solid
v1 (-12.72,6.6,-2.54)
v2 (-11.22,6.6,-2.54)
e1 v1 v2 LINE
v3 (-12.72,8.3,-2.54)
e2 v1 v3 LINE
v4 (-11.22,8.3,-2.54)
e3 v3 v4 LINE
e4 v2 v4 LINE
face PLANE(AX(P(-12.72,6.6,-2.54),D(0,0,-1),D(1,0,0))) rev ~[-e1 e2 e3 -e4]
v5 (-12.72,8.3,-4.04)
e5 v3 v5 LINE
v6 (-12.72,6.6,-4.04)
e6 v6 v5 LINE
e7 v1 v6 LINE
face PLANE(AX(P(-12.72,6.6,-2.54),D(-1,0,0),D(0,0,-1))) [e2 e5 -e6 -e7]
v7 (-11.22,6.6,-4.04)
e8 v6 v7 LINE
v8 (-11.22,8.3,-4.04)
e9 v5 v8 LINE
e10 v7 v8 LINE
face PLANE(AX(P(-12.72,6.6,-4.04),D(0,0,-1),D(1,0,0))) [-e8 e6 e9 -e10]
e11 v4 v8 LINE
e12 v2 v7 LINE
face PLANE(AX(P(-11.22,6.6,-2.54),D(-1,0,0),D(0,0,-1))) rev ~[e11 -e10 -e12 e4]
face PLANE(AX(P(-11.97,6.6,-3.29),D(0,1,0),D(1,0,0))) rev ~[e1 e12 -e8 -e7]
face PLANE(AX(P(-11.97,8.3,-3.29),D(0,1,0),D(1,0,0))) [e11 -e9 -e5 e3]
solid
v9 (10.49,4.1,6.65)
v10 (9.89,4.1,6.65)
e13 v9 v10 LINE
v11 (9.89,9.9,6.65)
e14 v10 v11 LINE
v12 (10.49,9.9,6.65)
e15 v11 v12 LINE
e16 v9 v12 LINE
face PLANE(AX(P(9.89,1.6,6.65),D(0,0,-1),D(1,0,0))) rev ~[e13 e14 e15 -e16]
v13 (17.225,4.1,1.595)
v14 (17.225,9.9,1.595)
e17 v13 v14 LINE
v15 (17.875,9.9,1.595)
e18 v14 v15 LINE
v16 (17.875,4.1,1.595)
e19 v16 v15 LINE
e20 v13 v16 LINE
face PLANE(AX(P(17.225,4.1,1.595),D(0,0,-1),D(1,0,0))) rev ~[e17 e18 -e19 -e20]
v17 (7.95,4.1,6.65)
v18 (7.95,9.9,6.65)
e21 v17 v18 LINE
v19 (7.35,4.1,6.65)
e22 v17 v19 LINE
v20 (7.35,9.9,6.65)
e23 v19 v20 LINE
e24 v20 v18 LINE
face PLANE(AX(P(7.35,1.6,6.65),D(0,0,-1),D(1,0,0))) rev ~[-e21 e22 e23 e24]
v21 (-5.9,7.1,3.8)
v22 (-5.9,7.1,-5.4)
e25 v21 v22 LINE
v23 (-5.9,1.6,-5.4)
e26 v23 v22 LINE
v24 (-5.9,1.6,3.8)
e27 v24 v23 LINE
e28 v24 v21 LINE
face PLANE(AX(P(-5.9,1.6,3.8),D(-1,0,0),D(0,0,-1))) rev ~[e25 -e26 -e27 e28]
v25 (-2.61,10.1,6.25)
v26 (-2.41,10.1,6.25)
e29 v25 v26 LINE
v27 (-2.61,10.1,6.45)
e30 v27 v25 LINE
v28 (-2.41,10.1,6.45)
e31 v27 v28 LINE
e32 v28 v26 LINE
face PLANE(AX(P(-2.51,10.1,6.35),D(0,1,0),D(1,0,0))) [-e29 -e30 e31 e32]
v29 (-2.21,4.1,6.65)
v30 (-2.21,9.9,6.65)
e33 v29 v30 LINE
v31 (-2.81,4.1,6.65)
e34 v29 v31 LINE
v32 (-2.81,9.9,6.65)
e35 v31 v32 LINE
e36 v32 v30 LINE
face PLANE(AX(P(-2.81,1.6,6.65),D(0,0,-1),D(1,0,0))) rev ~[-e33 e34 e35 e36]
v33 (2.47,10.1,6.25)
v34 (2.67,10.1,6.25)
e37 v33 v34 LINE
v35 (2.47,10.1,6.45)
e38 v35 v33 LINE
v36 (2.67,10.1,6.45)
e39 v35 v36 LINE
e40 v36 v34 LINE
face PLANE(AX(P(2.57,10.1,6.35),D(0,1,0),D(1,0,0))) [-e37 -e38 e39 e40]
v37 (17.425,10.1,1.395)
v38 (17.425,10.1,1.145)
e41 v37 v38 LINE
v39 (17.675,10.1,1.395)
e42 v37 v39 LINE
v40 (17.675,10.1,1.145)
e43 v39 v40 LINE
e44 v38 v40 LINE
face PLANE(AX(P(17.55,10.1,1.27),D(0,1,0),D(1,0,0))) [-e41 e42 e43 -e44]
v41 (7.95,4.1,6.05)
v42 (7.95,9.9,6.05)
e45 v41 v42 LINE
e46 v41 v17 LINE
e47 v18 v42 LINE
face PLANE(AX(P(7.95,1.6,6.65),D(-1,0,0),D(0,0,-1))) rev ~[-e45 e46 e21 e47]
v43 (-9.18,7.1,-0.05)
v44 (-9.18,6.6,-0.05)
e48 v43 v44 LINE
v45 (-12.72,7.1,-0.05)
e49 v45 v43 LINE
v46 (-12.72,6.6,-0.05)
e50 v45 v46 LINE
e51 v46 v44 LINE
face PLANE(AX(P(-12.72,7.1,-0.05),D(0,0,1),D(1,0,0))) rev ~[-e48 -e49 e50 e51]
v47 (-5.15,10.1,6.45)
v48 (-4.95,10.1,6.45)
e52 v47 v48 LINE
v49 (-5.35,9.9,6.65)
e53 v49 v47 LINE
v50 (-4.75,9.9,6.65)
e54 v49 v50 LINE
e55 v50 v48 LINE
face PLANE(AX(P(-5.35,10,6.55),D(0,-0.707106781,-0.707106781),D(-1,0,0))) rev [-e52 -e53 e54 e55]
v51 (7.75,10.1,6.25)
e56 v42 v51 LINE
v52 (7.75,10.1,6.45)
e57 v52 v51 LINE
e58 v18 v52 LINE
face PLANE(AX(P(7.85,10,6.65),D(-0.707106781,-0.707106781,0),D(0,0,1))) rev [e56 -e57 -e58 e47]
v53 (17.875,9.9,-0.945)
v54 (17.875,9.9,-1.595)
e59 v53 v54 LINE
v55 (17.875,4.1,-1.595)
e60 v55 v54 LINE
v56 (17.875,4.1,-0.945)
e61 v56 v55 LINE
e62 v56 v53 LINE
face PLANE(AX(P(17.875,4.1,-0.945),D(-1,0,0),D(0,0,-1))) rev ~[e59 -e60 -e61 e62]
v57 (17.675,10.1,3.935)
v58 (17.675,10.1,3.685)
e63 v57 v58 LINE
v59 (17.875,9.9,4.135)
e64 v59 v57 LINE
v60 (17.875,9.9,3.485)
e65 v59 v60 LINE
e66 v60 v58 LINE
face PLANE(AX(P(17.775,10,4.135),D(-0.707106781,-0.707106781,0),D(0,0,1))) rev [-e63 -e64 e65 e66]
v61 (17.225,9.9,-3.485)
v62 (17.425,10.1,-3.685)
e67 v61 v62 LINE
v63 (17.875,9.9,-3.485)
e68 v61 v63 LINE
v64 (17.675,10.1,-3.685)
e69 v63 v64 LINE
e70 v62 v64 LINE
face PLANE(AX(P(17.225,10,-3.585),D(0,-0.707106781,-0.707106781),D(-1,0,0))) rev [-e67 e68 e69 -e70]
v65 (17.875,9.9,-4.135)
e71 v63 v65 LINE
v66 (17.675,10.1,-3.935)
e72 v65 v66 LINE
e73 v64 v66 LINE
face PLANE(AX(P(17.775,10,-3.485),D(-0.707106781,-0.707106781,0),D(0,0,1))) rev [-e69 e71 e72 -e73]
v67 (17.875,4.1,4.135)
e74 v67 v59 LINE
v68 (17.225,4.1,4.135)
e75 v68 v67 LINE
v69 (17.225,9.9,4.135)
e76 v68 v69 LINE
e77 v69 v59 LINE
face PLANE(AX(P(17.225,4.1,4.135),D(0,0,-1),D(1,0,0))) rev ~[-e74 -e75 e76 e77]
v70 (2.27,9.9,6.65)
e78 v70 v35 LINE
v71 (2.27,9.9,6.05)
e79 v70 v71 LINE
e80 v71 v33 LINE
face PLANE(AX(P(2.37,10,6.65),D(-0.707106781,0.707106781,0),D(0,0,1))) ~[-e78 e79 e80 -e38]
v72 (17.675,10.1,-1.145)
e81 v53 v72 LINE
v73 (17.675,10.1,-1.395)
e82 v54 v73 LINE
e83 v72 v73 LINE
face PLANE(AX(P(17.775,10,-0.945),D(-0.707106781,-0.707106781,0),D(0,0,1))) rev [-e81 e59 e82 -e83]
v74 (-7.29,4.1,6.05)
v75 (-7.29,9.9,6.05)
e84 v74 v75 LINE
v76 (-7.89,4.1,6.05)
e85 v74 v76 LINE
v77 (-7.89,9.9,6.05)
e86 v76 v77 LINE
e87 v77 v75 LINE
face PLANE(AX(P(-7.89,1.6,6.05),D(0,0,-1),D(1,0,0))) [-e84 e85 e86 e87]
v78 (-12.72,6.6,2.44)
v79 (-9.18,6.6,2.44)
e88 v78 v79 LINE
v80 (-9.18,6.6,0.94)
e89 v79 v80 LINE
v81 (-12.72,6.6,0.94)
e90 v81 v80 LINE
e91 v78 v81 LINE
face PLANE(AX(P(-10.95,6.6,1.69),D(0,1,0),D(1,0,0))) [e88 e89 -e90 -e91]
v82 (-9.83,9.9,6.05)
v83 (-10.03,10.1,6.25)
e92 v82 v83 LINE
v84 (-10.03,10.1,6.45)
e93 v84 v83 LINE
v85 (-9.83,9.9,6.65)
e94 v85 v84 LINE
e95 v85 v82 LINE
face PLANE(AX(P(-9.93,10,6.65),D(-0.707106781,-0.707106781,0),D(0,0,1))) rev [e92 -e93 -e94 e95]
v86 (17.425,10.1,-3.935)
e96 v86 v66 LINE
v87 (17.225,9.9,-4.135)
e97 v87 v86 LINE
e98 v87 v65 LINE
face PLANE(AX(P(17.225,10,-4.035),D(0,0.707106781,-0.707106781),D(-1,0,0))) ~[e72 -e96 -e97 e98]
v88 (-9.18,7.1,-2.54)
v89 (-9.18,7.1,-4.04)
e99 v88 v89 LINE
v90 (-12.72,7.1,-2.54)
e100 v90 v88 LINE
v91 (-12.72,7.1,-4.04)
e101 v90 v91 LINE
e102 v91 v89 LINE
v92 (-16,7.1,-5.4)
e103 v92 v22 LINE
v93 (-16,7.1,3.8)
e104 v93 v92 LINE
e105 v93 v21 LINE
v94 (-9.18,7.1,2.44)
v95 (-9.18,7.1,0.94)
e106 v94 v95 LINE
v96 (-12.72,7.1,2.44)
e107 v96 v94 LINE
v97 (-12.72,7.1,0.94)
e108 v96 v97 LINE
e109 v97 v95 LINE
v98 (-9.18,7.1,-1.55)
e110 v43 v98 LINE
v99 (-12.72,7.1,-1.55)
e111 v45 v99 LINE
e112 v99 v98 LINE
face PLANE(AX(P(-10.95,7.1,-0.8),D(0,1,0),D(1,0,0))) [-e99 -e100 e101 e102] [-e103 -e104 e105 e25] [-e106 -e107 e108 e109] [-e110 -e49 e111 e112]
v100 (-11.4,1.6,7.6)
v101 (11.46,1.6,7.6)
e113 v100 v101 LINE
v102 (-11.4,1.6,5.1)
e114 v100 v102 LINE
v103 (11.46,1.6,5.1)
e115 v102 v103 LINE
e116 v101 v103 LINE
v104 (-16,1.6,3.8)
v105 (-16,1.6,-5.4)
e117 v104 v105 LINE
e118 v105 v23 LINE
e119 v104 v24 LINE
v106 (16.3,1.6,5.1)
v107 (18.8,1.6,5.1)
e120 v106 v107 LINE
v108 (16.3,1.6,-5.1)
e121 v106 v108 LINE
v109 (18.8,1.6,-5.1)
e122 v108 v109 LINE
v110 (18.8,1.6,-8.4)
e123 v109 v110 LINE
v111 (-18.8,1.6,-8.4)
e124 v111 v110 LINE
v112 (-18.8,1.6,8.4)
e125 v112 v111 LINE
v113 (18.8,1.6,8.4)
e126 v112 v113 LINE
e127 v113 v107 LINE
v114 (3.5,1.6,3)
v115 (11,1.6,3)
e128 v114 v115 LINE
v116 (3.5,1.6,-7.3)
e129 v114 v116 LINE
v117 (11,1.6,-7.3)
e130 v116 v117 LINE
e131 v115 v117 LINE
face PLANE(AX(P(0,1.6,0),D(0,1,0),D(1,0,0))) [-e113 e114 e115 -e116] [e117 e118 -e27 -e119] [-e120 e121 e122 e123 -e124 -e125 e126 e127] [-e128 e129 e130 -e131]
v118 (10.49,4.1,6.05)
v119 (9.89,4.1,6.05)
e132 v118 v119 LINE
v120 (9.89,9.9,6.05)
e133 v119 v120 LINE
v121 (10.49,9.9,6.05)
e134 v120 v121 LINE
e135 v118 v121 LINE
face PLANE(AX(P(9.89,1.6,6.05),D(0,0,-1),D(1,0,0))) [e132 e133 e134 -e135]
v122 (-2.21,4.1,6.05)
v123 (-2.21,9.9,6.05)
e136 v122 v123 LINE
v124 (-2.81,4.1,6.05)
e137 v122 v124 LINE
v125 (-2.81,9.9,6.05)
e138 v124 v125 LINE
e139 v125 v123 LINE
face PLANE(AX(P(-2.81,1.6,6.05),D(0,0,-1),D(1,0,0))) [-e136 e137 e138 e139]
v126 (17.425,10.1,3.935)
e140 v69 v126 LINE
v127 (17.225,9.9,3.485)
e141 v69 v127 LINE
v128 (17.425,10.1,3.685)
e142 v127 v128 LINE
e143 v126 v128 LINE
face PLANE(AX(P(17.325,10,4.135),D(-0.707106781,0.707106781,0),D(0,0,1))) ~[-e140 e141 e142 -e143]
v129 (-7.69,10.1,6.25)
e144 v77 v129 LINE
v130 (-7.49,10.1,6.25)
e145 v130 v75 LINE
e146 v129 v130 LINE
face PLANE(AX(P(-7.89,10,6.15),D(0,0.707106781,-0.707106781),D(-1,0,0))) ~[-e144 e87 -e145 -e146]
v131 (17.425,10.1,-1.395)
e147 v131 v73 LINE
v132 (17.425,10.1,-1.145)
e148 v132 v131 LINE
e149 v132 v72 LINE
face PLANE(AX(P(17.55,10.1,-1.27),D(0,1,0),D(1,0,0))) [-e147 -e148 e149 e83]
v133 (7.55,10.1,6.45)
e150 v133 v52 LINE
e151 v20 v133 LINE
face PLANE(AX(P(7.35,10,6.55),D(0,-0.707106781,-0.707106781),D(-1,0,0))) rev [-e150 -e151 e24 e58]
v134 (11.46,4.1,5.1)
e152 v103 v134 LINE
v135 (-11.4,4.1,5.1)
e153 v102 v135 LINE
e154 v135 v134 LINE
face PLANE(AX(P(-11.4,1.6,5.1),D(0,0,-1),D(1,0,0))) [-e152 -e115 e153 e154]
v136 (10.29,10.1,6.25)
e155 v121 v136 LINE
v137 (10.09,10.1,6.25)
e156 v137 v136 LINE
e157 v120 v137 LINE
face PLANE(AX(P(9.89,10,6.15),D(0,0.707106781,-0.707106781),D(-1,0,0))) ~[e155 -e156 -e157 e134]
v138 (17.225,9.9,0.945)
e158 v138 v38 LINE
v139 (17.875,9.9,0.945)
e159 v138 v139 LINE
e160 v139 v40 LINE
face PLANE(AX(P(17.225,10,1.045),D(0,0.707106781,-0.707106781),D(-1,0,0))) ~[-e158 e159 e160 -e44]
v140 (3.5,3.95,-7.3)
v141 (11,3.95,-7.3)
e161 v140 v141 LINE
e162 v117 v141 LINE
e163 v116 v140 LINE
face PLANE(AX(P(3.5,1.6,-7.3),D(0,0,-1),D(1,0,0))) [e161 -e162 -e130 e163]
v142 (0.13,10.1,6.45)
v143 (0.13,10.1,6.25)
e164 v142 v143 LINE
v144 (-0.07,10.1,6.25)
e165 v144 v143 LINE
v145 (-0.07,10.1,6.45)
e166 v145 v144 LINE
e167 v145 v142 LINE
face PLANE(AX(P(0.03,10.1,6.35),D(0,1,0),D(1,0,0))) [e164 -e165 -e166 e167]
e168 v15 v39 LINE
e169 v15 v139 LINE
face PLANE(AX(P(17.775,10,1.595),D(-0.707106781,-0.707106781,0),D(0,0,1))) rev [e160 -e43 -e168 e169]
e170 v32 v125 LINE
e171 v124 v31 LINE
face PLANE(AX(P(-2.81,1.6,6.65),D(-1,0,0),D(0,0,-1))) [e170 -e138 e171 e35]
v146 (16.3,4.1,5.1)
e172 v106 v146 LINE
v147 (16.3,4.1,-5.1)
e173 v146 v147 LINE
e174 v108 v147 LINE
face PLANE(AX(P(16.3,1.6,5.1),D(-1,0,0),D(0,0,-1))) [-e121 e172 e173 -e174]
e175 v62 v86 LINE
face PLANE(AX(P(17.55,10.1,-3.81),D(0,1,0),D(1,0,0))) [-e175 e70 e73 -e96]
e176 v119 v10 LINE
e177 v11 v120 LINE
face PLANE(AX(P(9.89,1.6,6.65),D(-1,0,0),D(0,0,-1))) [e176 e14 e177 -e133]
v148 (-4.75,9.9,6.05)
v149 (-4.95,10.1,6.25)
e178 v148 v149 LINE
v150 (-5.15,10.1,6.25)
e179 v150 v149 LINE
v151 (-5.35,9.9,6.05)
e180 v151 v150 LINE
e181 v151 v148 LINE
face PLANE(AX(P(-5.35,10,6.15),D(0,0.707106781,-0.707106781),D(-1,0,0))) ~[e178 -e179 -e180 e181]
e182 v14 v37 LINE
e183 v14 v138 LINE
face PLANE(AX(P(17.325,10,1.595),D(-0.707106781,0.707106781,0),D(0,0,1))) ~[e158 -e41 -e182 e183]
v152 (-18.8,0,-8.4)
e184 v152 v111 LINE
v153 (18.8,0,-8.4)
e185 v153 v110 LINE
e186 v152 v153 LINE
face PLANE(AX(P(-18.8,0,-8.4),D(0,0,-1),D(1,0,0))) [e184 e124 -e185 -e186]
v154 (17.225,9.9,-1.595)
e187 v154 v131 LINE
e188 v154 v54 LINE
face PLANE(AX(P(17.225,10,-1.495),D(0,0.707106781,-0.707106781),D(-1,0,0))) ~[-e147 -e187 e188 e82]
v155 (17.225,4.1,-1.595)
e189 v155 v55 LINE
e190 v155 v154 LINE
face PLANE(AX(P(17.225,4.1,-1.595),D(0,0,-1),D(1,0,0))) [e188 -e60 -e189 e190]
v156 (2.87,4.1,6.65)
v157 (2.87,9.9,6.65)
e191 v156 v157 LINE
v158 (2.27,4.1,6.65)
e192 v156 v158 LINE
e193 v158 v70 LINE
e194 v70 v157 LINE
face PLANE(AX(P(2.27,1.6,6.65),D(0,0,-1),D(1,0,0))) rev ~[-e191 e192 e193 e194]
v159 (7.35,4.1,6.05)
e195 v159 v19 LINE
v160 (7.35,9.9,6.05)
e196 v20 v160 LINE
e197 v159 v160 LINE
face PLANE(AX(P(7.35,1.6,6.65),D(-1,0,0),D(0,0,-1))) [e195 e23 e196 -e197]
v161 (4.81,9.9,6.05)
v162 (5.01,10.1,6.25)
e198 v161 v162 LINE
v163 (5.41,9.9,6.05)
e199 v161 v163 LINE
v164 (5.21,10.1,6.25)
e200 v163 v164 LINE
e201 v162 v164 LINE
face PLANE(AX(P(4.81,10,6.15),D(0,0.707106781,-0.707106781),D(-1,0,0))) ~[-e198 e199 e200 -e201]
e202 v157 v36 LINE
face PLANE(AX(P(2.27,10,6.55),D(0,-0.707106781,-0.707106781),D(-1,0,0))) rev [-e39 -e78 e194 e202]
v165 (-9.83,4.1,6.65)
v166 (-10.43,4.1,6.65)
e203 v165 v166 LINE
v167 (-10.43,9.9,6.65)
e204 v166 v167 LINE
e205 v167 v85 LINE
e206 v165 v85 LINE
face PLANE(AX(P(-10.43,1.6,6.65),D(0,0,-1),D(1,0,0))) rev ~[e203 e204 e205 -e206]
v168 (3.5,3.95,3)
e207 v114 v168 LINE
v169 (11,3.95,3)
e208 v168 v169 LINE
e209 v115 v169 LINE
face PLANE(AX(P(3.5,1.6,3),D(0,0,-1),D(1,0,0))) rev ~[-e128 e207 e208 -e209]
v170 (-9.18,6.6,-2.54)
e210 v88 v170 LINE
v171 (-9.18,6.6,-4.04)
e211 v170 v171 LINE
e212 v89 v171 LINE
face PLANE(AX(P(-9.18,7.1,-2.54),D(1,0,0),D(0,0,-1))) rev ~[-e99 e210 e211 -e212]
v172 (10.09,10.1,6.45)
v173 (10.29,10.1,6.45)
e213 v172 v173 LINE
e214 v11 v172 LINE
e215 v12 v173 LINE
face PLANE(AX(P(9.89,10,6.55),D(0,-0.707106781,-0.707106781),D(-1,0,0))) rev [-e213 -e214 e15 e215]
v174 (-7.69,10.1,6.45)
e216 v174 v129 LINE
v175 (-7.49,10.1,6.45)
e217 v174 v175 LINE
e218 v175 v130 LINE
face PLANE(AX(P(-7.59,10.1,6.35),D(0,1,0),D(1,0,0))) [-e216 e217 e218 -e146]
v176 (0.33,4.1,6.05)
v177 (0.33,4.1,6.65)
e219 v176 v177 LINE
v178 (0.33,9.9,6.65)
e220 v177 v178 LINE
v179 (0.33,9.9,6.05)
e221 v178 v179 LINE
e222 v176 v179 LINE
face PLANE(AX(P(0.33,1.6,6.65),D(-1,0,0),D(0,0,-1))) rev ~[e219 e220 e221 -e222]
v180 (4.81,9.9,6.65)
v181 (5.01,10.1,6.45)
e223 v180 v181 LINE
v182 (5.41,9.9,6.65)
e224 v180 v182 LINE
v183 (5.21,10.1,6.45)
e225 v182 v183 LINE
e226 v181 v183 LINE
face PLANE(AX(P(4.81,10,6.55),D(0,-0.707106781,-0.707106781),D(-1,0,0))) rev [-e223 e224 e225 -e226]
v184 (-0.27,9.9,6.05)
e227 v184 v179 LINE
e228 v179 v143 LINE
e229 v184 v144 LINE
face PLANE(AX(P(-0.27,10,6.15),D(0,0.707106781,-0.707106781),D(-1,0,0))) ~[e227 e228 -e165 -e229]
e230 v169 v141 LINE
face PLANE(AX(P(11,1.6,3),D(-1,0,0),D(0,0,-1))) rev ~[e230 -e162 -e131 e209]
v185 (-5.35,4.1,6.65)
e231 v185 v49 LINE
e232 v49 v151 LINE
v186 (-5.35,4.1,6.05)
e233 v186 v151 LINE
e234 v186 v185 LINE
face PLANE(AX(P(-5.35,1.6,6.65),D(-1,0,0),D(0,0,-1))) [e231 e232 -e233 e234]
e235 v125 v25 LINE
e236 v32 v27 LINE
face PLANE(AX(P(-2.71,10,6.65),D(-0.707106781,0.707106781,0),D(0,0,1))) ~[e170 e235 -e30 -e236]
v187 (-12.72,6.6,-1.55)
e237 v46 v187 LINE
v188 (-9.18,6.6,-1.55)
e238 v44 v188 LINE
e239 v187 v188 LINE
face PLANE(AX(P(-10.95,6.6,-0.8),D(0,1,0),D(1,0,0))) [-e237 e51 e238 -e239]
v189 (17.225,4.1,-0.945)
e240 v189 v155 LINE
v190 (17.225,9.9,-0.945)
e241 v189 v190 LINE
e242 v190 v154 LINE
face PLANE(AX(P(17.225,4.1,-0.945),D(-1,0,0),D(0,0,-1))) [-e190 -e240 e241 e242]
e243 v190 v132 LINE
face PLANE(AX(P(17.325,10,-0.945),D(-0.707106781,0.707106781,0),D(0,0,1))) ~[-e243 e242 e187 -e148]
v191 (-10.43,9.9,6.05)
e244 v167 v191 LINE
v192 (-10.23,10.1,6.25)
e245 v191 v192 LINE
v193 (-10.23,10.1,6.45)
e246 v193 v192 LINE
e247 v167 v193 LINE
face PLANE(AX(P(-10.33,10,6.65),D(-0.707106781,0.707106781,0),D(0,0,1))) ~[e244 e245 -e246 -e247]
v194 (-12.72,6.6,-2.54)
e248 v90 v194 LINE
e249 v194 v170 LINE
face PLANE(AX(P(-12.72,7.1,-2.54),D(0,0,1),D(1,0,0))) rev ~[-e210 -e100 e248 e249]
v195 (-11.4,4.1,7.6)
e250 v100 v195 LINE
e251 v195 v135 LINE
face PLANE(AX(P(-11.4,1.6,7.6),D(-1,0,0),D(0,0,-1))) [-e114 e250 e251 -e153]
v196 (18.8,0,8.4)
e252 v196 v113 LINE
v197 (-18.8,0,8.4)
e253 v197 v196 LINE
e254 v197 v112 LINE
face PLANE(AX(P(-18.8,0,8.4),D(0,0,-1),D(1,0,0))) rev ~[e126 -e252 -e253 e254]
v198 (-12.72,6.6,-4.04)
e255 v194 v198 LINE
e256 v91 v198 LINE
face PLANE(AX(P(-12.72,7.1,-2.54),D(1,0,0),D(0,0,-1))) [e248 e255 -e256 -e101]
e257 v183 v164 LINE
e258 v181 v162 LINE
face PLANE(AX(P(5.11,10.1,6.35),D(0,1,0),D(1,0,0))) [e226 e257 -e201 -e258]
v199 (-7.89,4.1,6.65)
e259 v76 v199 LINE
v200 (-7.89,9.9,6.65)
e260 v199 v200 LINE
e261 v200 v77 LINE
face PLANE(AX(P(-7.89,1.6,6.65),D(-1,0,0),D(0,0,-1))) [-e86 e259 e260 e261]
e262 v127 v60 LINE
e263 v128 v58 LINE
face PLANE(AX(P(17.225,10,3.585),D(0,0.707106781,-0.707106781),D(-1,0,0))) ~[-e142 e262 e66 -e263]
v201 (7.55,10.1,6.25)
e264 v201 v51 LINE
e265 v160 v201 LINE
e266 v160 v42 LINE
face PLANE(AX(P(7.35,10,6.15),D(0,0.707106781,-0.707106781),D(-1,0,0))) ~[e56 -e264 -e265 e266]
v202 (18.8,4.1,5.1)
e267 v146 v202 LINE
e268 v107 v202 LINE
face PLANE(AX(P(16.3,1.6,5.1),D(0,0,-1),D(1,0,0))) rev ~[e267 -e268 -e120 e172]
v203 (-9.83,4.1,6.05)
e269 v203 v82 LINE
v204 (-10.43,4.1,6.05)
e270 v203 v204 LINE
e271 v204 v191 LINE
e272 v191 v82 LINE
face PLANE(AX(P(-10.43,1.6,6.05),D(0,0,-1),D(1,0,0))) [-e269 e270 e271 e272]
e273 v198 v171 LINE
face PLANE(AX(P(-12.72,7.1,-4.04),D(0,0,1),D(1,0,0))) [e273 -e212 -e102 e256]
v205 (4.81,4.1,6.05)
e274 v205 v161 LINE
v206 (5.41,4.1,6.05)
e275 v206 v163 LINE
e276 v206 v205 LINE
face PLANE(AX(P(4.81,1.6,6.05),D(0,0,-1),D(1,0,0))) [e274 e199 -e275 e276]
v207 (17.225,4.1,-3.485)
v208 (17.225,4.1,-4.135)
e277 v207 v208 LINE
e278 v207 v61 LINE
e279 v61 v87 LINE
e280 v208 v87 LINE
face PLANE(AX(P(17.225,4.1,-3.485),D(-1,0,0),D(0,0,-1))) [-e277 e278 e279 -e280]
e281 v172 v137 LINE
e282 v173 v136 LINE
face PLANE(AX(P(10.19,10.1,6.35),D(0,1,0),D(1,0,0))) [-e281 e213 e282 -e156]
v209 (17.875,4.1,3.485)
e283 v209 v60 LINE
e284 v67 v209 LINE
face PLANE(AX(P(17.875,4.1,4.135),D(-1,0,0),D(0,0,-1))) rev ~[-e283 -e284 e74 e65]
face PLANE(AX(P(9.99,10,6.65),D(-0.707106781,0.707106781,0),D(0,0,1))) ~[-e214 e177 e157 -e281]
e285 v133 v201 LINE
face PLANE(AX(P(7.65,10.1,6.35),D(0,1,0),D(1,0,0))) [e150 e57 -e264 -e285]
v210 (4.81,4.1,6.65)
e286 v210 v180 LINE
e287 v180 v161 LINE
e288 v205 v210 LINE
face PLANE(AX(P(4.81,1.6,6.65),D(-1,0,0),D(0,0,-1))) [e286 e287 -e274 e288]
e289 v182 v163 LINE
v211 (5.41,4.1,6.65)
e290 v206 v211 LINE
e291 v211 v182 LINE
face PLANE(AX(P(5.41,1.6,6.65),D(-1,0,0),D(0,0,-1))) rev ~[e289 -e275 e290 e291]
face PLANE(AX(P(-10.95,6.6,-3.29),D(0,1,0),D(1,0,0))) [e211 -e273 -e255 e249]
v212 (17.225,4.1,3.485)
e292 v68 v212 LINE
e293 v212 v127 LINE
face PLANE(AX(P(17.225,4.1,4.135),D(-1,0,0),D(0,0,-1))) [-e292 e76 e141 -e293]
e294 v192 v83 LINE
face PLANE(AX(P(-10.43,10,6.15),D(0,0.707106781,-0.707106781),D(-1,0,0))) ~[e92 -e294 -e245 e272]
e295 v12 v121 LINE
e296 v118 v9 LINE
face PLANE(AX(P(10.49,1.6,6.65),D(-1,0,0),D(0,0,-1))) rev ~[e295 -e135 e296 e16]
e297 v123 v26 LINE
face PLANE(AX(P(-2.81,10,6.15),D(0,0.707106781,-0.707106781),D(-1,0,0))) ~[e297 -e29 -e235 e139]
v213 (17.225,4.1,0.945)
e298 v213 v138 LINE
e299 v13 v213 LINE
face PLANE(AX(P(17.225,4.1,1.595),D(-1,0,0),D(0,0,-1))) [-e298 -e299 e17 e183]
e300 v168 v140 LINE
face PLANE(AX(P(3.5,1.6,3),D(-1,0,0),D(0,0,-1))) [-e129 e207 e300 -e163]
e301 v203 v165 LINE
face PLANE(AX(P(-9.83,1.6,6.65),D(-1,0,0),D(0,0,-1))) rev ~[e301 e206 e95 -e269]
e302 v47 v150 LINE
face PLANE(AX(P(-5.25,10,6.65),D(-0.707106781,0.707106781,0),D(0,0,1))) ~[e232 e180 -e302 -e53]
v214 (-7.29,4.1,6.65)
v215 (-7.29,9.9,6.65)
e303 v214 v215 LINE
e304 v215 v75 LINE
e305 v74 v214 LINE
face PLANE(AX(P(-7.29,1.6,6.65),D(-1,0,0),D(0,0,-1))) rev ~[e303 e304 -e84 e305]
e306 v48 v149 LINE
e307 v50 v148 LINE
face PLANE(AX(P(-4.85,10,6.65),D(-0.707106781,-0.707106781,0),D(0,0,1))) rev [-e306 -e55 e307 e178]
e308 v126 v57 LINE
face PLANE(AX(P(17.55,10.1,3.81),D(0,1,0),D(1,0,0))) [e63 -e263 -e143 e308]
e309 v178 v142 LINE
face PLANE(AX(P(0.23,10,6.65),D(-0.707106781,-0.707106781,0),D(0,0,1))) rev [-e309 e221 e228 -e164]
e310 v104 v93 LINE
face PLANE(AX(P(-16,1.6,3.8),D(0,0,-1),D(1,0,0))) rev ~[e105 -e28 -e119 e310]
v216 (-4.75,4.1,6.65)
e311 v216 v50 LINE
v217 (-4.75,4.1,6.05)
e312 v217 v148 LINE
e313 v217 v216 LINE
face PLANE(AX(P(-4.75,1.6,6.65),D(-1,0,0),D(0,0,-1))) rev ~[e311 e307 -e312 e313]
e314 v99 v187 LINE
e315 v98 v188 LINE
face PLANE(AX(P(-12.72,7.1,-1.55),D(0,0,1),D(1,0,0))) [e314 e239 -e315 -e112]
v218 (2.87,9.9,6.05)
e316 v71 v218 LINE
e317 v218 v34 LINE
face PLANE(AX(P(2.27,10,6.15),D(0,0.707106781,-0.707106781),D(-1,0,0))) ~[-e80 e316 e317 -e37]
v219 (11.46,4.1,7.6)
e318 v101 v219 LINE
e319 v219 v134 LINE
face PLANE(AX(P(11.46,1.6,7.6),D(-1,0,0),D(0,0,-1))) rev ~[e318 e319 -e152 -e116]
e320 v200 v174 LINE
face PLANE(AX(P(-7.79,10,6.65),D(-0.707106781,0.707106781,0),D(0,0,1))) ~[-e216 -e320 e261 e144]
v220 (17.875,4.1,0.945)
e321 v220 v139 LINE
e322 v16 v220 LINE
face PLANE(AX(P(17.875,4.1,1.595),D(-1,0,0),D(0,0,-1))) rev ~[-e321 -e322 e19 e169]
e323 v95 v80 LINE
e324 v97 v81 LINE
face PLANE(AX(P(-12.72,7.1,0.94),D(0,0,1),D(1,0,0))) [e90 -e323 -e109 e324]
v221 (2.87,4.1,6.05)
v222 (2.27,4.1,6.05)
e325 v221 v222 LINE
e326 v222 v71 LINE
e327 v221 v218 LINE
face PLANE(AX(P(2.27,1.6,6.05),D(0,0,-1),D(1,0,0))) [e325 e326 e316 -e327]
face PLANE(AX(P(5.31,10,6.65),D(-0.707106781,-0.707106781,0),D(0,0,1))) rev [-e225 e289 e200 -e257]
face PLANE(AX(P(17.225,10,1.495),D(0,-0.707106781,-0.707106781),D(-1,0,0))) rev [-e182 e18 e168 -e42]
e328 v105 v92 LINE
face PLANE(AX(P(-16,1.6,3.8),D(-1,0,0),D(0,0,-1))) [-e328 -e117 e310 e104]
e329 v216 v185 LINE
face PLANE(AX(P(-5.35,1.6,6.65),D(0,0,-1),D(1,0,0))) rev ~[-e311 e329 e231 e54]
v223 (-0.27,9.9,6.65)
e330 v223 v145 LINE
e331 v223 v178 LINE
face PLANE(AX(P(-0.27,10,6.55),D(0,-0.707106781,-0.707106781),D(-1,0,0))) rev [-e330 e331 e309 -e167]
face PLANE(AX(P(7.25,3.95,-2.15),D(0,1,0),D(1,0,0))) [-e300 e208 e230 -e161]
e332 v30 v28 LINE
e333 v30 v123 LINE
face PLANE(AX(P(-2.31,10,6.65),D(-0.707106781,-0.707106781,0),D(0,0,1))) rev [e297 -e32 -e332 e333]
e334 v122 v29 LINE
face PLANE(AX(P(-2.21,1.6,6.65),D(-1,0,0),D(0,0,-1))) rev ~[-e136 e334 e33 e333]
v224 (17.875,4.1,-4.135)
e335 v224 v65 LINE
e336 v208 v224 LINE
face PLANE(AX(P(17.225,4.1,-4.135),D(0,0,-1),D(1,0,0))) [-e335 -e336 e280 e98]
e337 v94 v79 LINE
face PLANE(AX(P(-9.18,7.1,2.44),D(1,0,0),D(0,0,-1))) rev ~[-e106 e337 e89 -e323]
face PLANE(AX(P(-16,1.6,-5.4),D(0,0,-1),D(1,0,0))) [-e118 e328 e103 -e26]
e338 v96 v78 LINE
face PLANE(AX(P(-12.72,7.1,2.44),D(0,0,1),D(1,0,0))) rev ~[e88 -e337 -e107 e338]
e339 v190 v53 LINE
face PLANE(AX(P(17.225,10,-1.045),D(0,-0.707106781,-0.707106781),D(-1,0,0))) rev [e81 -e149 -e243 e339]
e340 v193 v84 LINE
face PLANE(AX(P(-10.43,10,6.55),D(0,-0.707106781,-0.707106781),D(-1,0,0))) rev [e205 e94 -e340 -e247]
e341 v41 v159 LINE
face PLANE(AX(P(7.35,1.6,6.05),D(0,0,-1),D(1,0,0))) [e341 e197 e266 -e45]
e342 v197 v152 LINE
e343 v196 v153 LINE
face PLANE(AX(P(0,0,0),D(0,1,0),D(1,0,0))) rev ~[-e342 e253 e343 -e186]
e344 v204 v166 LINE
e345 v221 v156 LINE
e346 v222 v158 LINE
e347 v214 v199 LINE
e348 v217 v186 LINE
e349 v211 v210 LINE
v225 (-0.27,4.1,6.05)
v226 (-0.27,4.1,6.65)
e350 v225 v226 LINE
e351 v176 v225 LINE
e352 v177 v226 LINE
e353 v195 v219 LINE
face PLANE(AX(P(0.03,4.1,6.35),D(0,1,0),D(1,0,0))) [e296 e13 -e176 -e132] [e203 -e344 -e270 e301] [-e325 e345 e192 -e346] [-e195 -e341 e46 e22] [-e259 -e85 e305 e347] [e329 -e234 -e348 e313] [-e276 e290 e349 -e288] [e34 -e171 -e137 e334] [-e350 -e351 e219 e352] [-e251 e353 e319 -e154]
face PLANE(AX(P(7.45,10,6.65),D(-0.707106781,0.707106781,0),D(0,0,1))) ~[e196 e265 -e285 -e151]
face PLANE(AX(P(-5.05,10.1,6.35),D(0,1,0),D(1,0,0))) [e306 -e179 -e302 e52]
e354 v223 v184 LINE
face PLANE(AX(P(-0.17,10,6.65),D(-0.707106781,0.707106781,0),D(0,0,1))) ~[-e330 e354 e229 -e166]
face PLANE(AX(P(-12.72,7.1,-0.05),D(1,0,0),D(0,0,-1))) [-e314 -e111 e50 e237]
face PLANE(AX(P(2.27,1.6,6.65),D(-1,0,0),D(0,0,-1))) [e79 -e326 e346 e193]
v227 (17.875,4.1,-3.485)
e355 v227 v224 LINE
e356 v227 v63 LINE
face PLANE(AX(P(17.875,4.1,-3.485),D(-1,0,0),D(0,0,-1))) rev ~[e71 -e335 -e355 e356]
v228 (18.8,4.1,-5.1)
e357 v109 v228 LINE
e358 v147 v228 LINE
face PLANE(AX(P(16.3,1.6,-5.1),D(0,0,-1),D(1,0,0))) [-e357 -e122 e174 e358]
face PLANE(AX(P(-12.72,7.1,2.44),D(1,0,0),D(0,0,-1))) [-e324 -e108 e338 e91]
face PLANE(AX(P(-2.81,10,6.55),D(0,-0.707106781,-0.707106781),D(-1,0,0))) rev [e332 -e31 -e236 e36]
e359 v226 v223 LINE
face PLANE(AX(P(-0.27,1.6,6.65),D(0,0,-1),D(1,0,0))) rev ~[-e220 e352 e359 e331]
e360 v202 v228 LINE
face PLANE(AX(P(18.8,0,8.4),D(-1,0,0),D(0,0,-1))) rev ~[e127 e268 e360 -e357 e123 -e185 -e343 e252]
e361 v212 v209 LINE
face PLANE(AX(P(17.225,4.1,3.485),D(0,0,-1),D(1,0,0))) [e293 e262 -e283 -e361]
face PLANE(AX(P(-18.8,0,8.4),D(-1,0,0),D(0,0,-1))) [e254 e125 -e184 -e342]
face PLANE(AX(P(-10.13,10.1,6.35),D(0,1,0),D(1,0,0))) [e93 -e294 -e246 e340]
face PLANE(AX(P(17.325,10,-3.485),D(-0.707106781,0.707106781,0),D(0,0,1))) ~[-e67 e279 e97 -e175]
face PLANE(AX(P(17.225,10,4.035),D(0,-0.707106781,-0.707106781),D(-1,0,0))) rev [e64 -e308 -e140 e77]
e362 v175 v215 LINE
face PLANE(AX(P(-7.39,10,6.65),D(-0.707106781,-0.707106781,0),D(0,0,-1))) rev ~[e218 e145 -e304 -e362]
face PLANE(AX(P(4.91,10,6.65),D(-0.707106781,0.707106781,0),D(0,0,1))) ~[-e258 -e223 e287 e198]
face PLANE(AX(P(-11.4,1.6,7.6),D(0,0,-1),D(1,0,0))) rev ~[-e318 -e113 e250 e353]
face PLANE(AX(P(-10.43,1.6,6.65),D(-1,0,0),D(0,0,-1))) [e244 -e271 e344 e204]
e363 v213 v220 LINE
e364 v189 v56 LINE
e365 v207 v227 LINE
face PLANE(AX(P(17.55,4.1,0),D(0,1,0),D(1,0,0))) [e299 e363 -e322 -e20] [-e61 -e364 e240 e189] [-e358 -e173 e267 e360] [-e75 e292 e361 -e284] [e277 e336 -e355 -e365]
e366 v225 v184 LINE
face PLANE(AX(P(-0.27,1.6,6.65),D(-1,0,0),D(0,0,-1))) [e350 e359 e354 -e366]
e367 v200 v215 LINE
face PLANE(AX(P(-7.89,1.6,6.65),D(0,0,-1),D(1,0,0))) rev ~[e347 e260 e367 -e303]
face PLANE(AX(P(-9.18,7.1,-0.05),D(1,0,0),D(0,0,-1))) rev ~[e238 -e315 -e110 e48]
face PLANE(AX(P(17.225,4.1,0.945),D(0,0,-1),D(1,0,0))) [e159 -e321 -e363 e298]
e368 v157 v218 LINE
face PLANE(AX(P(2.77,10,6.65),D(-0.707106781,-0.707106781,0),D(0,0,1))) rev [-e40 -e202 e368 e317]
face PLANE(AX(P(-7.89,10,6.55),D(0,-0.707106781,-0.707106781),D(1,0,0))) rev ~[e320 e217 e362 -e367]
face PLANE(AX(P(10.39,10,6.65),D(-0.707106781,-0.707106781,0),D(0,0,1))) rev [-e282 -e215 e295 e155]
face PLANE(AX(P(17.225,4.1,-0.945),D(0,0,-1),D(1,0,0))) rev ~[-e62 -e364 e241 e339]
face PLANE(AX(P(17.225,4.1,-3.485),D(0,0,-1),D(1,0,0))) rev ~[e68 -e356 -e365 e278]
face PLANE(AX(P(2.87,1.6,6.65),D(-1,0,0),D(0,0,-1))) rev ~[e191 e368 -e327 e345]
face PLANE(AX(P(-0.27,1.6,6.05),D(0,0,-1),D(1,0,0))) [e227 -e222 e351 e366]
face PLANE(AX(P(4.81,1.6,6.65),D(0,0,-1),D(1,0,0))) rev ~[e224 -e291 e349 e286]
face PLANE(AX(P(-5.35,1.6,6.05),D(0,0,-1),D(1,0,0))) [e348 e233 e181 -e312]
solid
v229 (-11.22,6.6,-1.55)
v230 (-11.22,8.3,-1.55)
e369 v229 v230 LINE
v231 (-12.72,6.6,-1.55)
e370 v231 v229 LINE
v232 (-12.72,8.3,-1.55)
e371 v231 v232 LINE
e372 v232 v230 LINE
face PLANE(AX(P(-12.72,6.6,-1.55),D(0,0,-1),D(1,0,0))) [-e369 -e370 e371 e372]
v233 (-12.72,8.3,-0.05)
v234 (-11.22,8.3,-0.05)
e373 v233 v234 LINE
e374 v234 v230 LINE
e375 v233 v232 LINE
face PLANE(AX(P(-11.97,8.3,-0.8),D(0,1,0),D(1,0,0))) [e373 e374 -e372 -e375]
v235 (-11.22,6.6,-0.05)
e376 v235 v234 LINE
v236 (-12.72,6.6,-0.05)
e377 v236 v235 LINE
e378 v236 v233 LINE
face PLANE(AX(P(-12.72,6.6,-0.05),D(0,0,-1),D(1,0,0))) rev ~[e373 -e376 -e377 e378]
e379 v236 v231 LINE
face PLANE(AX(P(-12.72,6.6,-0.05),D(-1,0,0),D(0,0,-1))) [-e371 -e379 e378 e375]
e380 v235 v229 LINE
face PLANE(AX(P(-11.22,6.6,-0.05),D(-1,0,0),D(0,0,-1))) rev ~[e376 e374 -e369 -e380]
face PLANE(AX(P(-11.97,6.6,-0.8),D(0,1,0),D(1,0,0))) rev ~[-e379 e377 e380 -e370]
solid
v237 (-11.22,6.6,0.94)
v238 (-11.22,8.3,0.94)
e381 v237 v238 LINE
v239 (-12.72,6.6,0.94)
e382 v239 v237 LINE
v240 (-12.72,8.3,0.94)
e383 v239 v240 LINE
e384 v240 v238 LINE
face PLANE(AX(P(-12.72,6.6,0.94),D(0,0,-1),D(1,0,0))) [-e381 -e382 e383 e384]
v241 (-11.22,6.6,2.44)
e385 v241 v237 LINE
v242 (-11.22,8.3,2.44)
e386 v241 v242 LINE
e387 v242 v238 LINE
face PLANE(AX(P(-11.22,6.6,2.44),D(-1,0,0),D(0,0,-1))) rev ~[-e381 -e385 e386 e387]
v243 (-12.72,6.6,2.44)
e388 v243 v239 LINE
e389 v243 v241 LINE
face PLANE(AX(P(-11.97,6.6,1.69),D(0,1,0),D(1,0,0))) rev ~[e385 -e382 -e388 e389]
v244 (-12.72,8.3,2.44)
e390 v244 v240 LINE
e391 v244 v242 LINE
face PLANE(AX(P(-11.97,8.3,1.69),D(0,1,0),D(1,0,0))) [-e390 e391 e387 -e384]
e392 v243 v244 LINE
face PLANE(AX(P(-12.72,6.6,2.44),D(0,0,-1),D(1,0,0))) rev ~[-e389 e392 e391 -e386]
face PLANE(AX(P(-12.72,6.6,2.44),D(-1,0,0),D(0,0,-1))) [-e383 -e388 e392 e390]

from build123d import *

# Parameters (mm, degrees)
SKETCH1_W              = 37.6
SKETCH1_H              = 16.8
BOSS_EXTRUDE1_DEPTH    = 1.6
SKETCH3_W              = 22.86
SKETCH3_H              = 2.5
BOSS_EXTRUDE3_DEPTH    = 2.5
SKETCH2_W              = 0.6
SKETCH2_H              = 0.6
BOSS_EXTRUDE2_DEPTH    = 8.5
SKETCH4_W              = 2.5
SKETCH4_H              = 10.2
BOSS_EXTRUDE4_DEPTH    = 2.5
SKETCH9_W              = 7.5
SKETCH9_H              = 10.3
BOSS_EXTRUDE9_DEPTH    = 2.35
SKETCH10_W             = 0.65
SKETCH10_H             = 0.65
BOSS_EXTRUDE10_DEPTH   = 6
CHAMFER1_SIZE          = 0.2
SKETCH11_W             = 10.1
SKETCH11_H             = 9.2
BOSS_EXTRUDE11_DEPTH   = 5.5
SKETCH12_W             = 3.54
SKETCH12_H             = 1.5
CUT_EXTRUDE1_DEPTH     = 0.5
SKETCH13_W             = 1.5
SKETCH13_H             = 1.5
BOSS_EXTRUDE12_DEPTH   = 1.7
BOSS_EXTRUDE12_2_DEPTH = 1.7
BOSS_EXTRUDE12_3_DEPTH = 1.7


with BuildPart() as part:
    # Sketch1 → Boss-Extrude1 (new body)
    with BuildSketch(Plane(origin=(0, 0, 0), x_dir=(1, 0, 0), z_dir=(0, 1, 0))):
        Rectangle(SKETCH1_W, SKETCH1_H)
    extrude(amount=BOSS_EXTRUDE1_DEPTH)

    # Sketch3 → Boss-Extrude3 (add)
    with BuildSketch(Plane(origin=(0, 1.6, 0), x_dir=(1, 0, 0), z_dir=(0, 1, 0))):
        with Locations((0.03, -6.35)):
            Rectangle(SKETCH3_W, SKETCH3_H)
    extrude(amount=BOSS_EXTRUDE3_DEPTH)

    # Sketch2 → Boss-Extrude2 (add)
    with BuildSketch(Plane(origin=(0, 1.6, 0), x_dir=(1, 0, 0), z_dir=(0, 1, 0))):
        with Locations((-7.59, -6.35)):
            Rectangle(SKETCH2_W, SKETCH2_H)
        with Locations((-10.13, -6.35)):
            Rectangle(SKETCH2_W, SKETCH2_H)
        with Locations((-5.05, -6.35)):
            Rectangle(SKETCH2_W, SKETCH2_H)
        with Locations((-2.51, -6.35)):
            Rectangle(SKETCH2_W, SKETCH2_H)
        with Locations((0.03, -6.35)):
            Rectangle(SKETCH2_W, SKETCH2_H)
        with Locations((2.57, -6.35)):
            Rectangle(SKETCH2_W, SKETCH2_H)
        with Locations((5.11, -6.35)):
            Rectangle(SKETCH2_W, SKETCH2_H)
        with Locations((7.65, -6.35)):
            Rectangle(SKETCH2_W, SKETCH2_H)
        with Locations((10.19, -6.35)):
            Rectangle(SKETCH2_W, SKETCH2_H)
    extrude(amount=BOSS_EXTRUDE2_DEPTH)

    # Sketch9 → Boss-Extrude9 (add)
    with BuildSketch(Plane(origin=(0, 1.6, 0), x_dir=(1, 0, 0), z_dir=(0, 1, 0))):
        with Locations((7.25, 2.15)):
            Rectangle(SKETCH9_W, SKETCH9_H)
    extrude(amount=BOSS_EXTRUDE9_DEPTH)


with BuildPart() as body_2:
    # Sketch4 → Boss-Extrude4 (new body)
    with BuildSketch(Plane(origin=(0, 1.6, 0), x_dir=(1, 0, 0), z_dir=(0, 1, 0))):
        with Locations((17.55, 0)):
            Rectangle(SKETCH4_W, SKETCH4_H)
    extrude(amount=BOSS_EXTRUDE4_DEPTH)


    add(part.part)  # Boss-Extrude10 merges part
    # Sketch10 → Boss-Extrude10 (add)
    with BuildSketch(Plane(origin=(0, 4.1, 0), x_dir=(1, 0, 0), z_dir=(0, 1, 0))):
        with Locations((17.55, -1.27)):
            Rectangle(SKETCH10_W, SKETCH10_H)
        with Locations((17.55, 1.27)):
            Rectangle(SKETCH10_W, SKETCH10_H)
        with Locations((17.55, 3.81)):
            Rectangle(SKETCH10_W, SKETCH10_H)
        with Locations((17.55, -3.81)):
            Rectangle(SKETCH10_W, SKETCH10_H)
    extrude(amount=BOSS_EXTRUDE10_DEPTH)

    # Chamfer1
    chamfer1_edges = [body_2.edges().sort_by_distance(p)[0] for p in [
        (17.55, 10.1, -1.595),
        (17.875, 10.1, -1.27),
        (17.55, 10.1, -0.945),
        (17.225, 10.1, -1.27),
        (17.55, 10.1, -4.135),
        (17.875, 10.1, -3.81),
        (17.55, 10.1, -3.485),
        (17.225, 10.1, -3.81),
        (17.55, 10.1, 3.485),
        (17.875, 10.1, 3.81),
        (17.55, 10.1, 4.135),
        (17.225, 10.1, 3.81),
        (17.55, 10.1, 0.945),
        (17.875, 10.1, 1.27),
        (17.55, 10.1, 1.595),
        (17.225, 10.1, 1.27),
        (-10.43, 10.1, 6.35),
        (-10.13, 10.1, 6.65),
        (-9.83, 10.1, 6.35),
        (-10.13, 10.1, 6.05),
        (-7.89, 10.1, 6.35),
        (-7.59, 10.1, 6.65),
        (-7.29, 10.1, 6.35),
        (-7.59, 10.1, 6.05),
        (-5.35, 10.1, 6.35),
        (-5.05, 10.1, 6.65),
        (-4.75, 10.1, 6.35),
        (-5.05, 10.1, 6.05),
        (-2.81, 10.1, 6.35),
        (-2.51, 10.1, 6.65),
        (-2.21, 10.1, 6.35),
        (-2.51, 10.1, 6.05),
        (-0.27, 10.1, 6.35),
        (0.03, 10.1, 6.65),
        (0.33, 10.1, 6.35),
        (0.03, 10.1, 6.05),
        (2.27, 10.1, 6.35),
        (2.57, 10.1, 6.65),
        (2.87, 10.1, 6.35),
        (2.57, 10.1, 6.05),
        (4.81, 10.1, 6.35),
        (5.11, 10.1, 6.65),
        (5.41, 10.1, 6.35),
        (5.11, 10.1, 6.05),
        (7.35, 10.1, 6.35),
        (7.65, 10.1, 6.65),
        (7.95, 10.1, 6.35),
        (7.65, 10.1, 6.05),
        (9.89, 10.1, 6.35),
        (10.19, 10.1, 6.65),
        (10.49, 10.1, 6.35),
        (10.19, 10.1, 6.05),
    ]]
    chamfer(chamfer1_edges, length=CHAMFER1_SIZE)

    # Sketch11 → Boss-Extrude11 (add)
    with BuildSketch(Plane(origin=(0, 1.6, 0), x_dir=(1, 0, 0), z_dir=(0, 1, 0))):
        with Locations((-10.95, 0.8)):
            Rectangle(SKETCH11_W, SKETCH11_H)
    extrude(amount=BOSS_EXTRUDE11_DEPTH)

    # Sketch12 → Cut-Extrude1 (cut)
    with BuildSketch(Plane(origin=(0, 7.1, 0), x_dir=(1, 0, 0), z_dir=(0, 1, 0))):
        with Locations((-10.95, 3.29)):
            Rectangle(SKETCH12_W, SKETCH12_H)
        with Locations((-10.95, 0.8)):
            Rectangle(SKETCH12_W, SKETCH12_H)
        with Locations((-10.95, -1.69)):
            Rectangle(SKETCH12_W, SKETCH12_H)
    extrude(amount=-CUT_EXTRUDE1_DEPTH, mode=Mode.SUBTRACT)


with BuildPart() as body_2_2:
    # Sketch13 → Boss-Extrude12 (new body)
    with BuildSketch(Plane(origin=(0, 6.6, 0), x_dir=(1, 0, 0), z_dir=(0, 1, 0))):
        with Locations((-11.97, 3.29)):
            Rectangle(SKETCH13_W, SKETCH13_H)
    extrude(amount=BOSS_EXTRUDE12_DEPTH)


with BuildPart() as body_3:
    # Sketch13 → Boss-Extrude12 2 (new body)
    with BuildSketch(Plane(origin=(0, 6.6, 0), x_dir=(1, 0, 0), z_dir=(0, 1, 0))):
        with Locations((-11.97, 0.8)):
            Rectangle(SKETCH13_W, SKETCH13_H)
    extrude(amount=BOSS_EXTRUDE12_2_DEPTH)


with BuildPart() as body_4:
    # Sketch13 → Boss-Extrude12 3 (new body)
    with BuildSketch(Plane(origin=(0, 6.6, 0), x_dir=(1, 0, 0), z_dir=(0, 1, 0))):
        with Locations((-11.97, -1.69)):
            Rectangle(SKETCH13_W, SKETCH13_H)
    extrude(amount=BOSS_EXTRUDE12_3_DEPTH)


solid = Compound([body_2.part, body_2_2.part, body_3.part, body_4.part])
